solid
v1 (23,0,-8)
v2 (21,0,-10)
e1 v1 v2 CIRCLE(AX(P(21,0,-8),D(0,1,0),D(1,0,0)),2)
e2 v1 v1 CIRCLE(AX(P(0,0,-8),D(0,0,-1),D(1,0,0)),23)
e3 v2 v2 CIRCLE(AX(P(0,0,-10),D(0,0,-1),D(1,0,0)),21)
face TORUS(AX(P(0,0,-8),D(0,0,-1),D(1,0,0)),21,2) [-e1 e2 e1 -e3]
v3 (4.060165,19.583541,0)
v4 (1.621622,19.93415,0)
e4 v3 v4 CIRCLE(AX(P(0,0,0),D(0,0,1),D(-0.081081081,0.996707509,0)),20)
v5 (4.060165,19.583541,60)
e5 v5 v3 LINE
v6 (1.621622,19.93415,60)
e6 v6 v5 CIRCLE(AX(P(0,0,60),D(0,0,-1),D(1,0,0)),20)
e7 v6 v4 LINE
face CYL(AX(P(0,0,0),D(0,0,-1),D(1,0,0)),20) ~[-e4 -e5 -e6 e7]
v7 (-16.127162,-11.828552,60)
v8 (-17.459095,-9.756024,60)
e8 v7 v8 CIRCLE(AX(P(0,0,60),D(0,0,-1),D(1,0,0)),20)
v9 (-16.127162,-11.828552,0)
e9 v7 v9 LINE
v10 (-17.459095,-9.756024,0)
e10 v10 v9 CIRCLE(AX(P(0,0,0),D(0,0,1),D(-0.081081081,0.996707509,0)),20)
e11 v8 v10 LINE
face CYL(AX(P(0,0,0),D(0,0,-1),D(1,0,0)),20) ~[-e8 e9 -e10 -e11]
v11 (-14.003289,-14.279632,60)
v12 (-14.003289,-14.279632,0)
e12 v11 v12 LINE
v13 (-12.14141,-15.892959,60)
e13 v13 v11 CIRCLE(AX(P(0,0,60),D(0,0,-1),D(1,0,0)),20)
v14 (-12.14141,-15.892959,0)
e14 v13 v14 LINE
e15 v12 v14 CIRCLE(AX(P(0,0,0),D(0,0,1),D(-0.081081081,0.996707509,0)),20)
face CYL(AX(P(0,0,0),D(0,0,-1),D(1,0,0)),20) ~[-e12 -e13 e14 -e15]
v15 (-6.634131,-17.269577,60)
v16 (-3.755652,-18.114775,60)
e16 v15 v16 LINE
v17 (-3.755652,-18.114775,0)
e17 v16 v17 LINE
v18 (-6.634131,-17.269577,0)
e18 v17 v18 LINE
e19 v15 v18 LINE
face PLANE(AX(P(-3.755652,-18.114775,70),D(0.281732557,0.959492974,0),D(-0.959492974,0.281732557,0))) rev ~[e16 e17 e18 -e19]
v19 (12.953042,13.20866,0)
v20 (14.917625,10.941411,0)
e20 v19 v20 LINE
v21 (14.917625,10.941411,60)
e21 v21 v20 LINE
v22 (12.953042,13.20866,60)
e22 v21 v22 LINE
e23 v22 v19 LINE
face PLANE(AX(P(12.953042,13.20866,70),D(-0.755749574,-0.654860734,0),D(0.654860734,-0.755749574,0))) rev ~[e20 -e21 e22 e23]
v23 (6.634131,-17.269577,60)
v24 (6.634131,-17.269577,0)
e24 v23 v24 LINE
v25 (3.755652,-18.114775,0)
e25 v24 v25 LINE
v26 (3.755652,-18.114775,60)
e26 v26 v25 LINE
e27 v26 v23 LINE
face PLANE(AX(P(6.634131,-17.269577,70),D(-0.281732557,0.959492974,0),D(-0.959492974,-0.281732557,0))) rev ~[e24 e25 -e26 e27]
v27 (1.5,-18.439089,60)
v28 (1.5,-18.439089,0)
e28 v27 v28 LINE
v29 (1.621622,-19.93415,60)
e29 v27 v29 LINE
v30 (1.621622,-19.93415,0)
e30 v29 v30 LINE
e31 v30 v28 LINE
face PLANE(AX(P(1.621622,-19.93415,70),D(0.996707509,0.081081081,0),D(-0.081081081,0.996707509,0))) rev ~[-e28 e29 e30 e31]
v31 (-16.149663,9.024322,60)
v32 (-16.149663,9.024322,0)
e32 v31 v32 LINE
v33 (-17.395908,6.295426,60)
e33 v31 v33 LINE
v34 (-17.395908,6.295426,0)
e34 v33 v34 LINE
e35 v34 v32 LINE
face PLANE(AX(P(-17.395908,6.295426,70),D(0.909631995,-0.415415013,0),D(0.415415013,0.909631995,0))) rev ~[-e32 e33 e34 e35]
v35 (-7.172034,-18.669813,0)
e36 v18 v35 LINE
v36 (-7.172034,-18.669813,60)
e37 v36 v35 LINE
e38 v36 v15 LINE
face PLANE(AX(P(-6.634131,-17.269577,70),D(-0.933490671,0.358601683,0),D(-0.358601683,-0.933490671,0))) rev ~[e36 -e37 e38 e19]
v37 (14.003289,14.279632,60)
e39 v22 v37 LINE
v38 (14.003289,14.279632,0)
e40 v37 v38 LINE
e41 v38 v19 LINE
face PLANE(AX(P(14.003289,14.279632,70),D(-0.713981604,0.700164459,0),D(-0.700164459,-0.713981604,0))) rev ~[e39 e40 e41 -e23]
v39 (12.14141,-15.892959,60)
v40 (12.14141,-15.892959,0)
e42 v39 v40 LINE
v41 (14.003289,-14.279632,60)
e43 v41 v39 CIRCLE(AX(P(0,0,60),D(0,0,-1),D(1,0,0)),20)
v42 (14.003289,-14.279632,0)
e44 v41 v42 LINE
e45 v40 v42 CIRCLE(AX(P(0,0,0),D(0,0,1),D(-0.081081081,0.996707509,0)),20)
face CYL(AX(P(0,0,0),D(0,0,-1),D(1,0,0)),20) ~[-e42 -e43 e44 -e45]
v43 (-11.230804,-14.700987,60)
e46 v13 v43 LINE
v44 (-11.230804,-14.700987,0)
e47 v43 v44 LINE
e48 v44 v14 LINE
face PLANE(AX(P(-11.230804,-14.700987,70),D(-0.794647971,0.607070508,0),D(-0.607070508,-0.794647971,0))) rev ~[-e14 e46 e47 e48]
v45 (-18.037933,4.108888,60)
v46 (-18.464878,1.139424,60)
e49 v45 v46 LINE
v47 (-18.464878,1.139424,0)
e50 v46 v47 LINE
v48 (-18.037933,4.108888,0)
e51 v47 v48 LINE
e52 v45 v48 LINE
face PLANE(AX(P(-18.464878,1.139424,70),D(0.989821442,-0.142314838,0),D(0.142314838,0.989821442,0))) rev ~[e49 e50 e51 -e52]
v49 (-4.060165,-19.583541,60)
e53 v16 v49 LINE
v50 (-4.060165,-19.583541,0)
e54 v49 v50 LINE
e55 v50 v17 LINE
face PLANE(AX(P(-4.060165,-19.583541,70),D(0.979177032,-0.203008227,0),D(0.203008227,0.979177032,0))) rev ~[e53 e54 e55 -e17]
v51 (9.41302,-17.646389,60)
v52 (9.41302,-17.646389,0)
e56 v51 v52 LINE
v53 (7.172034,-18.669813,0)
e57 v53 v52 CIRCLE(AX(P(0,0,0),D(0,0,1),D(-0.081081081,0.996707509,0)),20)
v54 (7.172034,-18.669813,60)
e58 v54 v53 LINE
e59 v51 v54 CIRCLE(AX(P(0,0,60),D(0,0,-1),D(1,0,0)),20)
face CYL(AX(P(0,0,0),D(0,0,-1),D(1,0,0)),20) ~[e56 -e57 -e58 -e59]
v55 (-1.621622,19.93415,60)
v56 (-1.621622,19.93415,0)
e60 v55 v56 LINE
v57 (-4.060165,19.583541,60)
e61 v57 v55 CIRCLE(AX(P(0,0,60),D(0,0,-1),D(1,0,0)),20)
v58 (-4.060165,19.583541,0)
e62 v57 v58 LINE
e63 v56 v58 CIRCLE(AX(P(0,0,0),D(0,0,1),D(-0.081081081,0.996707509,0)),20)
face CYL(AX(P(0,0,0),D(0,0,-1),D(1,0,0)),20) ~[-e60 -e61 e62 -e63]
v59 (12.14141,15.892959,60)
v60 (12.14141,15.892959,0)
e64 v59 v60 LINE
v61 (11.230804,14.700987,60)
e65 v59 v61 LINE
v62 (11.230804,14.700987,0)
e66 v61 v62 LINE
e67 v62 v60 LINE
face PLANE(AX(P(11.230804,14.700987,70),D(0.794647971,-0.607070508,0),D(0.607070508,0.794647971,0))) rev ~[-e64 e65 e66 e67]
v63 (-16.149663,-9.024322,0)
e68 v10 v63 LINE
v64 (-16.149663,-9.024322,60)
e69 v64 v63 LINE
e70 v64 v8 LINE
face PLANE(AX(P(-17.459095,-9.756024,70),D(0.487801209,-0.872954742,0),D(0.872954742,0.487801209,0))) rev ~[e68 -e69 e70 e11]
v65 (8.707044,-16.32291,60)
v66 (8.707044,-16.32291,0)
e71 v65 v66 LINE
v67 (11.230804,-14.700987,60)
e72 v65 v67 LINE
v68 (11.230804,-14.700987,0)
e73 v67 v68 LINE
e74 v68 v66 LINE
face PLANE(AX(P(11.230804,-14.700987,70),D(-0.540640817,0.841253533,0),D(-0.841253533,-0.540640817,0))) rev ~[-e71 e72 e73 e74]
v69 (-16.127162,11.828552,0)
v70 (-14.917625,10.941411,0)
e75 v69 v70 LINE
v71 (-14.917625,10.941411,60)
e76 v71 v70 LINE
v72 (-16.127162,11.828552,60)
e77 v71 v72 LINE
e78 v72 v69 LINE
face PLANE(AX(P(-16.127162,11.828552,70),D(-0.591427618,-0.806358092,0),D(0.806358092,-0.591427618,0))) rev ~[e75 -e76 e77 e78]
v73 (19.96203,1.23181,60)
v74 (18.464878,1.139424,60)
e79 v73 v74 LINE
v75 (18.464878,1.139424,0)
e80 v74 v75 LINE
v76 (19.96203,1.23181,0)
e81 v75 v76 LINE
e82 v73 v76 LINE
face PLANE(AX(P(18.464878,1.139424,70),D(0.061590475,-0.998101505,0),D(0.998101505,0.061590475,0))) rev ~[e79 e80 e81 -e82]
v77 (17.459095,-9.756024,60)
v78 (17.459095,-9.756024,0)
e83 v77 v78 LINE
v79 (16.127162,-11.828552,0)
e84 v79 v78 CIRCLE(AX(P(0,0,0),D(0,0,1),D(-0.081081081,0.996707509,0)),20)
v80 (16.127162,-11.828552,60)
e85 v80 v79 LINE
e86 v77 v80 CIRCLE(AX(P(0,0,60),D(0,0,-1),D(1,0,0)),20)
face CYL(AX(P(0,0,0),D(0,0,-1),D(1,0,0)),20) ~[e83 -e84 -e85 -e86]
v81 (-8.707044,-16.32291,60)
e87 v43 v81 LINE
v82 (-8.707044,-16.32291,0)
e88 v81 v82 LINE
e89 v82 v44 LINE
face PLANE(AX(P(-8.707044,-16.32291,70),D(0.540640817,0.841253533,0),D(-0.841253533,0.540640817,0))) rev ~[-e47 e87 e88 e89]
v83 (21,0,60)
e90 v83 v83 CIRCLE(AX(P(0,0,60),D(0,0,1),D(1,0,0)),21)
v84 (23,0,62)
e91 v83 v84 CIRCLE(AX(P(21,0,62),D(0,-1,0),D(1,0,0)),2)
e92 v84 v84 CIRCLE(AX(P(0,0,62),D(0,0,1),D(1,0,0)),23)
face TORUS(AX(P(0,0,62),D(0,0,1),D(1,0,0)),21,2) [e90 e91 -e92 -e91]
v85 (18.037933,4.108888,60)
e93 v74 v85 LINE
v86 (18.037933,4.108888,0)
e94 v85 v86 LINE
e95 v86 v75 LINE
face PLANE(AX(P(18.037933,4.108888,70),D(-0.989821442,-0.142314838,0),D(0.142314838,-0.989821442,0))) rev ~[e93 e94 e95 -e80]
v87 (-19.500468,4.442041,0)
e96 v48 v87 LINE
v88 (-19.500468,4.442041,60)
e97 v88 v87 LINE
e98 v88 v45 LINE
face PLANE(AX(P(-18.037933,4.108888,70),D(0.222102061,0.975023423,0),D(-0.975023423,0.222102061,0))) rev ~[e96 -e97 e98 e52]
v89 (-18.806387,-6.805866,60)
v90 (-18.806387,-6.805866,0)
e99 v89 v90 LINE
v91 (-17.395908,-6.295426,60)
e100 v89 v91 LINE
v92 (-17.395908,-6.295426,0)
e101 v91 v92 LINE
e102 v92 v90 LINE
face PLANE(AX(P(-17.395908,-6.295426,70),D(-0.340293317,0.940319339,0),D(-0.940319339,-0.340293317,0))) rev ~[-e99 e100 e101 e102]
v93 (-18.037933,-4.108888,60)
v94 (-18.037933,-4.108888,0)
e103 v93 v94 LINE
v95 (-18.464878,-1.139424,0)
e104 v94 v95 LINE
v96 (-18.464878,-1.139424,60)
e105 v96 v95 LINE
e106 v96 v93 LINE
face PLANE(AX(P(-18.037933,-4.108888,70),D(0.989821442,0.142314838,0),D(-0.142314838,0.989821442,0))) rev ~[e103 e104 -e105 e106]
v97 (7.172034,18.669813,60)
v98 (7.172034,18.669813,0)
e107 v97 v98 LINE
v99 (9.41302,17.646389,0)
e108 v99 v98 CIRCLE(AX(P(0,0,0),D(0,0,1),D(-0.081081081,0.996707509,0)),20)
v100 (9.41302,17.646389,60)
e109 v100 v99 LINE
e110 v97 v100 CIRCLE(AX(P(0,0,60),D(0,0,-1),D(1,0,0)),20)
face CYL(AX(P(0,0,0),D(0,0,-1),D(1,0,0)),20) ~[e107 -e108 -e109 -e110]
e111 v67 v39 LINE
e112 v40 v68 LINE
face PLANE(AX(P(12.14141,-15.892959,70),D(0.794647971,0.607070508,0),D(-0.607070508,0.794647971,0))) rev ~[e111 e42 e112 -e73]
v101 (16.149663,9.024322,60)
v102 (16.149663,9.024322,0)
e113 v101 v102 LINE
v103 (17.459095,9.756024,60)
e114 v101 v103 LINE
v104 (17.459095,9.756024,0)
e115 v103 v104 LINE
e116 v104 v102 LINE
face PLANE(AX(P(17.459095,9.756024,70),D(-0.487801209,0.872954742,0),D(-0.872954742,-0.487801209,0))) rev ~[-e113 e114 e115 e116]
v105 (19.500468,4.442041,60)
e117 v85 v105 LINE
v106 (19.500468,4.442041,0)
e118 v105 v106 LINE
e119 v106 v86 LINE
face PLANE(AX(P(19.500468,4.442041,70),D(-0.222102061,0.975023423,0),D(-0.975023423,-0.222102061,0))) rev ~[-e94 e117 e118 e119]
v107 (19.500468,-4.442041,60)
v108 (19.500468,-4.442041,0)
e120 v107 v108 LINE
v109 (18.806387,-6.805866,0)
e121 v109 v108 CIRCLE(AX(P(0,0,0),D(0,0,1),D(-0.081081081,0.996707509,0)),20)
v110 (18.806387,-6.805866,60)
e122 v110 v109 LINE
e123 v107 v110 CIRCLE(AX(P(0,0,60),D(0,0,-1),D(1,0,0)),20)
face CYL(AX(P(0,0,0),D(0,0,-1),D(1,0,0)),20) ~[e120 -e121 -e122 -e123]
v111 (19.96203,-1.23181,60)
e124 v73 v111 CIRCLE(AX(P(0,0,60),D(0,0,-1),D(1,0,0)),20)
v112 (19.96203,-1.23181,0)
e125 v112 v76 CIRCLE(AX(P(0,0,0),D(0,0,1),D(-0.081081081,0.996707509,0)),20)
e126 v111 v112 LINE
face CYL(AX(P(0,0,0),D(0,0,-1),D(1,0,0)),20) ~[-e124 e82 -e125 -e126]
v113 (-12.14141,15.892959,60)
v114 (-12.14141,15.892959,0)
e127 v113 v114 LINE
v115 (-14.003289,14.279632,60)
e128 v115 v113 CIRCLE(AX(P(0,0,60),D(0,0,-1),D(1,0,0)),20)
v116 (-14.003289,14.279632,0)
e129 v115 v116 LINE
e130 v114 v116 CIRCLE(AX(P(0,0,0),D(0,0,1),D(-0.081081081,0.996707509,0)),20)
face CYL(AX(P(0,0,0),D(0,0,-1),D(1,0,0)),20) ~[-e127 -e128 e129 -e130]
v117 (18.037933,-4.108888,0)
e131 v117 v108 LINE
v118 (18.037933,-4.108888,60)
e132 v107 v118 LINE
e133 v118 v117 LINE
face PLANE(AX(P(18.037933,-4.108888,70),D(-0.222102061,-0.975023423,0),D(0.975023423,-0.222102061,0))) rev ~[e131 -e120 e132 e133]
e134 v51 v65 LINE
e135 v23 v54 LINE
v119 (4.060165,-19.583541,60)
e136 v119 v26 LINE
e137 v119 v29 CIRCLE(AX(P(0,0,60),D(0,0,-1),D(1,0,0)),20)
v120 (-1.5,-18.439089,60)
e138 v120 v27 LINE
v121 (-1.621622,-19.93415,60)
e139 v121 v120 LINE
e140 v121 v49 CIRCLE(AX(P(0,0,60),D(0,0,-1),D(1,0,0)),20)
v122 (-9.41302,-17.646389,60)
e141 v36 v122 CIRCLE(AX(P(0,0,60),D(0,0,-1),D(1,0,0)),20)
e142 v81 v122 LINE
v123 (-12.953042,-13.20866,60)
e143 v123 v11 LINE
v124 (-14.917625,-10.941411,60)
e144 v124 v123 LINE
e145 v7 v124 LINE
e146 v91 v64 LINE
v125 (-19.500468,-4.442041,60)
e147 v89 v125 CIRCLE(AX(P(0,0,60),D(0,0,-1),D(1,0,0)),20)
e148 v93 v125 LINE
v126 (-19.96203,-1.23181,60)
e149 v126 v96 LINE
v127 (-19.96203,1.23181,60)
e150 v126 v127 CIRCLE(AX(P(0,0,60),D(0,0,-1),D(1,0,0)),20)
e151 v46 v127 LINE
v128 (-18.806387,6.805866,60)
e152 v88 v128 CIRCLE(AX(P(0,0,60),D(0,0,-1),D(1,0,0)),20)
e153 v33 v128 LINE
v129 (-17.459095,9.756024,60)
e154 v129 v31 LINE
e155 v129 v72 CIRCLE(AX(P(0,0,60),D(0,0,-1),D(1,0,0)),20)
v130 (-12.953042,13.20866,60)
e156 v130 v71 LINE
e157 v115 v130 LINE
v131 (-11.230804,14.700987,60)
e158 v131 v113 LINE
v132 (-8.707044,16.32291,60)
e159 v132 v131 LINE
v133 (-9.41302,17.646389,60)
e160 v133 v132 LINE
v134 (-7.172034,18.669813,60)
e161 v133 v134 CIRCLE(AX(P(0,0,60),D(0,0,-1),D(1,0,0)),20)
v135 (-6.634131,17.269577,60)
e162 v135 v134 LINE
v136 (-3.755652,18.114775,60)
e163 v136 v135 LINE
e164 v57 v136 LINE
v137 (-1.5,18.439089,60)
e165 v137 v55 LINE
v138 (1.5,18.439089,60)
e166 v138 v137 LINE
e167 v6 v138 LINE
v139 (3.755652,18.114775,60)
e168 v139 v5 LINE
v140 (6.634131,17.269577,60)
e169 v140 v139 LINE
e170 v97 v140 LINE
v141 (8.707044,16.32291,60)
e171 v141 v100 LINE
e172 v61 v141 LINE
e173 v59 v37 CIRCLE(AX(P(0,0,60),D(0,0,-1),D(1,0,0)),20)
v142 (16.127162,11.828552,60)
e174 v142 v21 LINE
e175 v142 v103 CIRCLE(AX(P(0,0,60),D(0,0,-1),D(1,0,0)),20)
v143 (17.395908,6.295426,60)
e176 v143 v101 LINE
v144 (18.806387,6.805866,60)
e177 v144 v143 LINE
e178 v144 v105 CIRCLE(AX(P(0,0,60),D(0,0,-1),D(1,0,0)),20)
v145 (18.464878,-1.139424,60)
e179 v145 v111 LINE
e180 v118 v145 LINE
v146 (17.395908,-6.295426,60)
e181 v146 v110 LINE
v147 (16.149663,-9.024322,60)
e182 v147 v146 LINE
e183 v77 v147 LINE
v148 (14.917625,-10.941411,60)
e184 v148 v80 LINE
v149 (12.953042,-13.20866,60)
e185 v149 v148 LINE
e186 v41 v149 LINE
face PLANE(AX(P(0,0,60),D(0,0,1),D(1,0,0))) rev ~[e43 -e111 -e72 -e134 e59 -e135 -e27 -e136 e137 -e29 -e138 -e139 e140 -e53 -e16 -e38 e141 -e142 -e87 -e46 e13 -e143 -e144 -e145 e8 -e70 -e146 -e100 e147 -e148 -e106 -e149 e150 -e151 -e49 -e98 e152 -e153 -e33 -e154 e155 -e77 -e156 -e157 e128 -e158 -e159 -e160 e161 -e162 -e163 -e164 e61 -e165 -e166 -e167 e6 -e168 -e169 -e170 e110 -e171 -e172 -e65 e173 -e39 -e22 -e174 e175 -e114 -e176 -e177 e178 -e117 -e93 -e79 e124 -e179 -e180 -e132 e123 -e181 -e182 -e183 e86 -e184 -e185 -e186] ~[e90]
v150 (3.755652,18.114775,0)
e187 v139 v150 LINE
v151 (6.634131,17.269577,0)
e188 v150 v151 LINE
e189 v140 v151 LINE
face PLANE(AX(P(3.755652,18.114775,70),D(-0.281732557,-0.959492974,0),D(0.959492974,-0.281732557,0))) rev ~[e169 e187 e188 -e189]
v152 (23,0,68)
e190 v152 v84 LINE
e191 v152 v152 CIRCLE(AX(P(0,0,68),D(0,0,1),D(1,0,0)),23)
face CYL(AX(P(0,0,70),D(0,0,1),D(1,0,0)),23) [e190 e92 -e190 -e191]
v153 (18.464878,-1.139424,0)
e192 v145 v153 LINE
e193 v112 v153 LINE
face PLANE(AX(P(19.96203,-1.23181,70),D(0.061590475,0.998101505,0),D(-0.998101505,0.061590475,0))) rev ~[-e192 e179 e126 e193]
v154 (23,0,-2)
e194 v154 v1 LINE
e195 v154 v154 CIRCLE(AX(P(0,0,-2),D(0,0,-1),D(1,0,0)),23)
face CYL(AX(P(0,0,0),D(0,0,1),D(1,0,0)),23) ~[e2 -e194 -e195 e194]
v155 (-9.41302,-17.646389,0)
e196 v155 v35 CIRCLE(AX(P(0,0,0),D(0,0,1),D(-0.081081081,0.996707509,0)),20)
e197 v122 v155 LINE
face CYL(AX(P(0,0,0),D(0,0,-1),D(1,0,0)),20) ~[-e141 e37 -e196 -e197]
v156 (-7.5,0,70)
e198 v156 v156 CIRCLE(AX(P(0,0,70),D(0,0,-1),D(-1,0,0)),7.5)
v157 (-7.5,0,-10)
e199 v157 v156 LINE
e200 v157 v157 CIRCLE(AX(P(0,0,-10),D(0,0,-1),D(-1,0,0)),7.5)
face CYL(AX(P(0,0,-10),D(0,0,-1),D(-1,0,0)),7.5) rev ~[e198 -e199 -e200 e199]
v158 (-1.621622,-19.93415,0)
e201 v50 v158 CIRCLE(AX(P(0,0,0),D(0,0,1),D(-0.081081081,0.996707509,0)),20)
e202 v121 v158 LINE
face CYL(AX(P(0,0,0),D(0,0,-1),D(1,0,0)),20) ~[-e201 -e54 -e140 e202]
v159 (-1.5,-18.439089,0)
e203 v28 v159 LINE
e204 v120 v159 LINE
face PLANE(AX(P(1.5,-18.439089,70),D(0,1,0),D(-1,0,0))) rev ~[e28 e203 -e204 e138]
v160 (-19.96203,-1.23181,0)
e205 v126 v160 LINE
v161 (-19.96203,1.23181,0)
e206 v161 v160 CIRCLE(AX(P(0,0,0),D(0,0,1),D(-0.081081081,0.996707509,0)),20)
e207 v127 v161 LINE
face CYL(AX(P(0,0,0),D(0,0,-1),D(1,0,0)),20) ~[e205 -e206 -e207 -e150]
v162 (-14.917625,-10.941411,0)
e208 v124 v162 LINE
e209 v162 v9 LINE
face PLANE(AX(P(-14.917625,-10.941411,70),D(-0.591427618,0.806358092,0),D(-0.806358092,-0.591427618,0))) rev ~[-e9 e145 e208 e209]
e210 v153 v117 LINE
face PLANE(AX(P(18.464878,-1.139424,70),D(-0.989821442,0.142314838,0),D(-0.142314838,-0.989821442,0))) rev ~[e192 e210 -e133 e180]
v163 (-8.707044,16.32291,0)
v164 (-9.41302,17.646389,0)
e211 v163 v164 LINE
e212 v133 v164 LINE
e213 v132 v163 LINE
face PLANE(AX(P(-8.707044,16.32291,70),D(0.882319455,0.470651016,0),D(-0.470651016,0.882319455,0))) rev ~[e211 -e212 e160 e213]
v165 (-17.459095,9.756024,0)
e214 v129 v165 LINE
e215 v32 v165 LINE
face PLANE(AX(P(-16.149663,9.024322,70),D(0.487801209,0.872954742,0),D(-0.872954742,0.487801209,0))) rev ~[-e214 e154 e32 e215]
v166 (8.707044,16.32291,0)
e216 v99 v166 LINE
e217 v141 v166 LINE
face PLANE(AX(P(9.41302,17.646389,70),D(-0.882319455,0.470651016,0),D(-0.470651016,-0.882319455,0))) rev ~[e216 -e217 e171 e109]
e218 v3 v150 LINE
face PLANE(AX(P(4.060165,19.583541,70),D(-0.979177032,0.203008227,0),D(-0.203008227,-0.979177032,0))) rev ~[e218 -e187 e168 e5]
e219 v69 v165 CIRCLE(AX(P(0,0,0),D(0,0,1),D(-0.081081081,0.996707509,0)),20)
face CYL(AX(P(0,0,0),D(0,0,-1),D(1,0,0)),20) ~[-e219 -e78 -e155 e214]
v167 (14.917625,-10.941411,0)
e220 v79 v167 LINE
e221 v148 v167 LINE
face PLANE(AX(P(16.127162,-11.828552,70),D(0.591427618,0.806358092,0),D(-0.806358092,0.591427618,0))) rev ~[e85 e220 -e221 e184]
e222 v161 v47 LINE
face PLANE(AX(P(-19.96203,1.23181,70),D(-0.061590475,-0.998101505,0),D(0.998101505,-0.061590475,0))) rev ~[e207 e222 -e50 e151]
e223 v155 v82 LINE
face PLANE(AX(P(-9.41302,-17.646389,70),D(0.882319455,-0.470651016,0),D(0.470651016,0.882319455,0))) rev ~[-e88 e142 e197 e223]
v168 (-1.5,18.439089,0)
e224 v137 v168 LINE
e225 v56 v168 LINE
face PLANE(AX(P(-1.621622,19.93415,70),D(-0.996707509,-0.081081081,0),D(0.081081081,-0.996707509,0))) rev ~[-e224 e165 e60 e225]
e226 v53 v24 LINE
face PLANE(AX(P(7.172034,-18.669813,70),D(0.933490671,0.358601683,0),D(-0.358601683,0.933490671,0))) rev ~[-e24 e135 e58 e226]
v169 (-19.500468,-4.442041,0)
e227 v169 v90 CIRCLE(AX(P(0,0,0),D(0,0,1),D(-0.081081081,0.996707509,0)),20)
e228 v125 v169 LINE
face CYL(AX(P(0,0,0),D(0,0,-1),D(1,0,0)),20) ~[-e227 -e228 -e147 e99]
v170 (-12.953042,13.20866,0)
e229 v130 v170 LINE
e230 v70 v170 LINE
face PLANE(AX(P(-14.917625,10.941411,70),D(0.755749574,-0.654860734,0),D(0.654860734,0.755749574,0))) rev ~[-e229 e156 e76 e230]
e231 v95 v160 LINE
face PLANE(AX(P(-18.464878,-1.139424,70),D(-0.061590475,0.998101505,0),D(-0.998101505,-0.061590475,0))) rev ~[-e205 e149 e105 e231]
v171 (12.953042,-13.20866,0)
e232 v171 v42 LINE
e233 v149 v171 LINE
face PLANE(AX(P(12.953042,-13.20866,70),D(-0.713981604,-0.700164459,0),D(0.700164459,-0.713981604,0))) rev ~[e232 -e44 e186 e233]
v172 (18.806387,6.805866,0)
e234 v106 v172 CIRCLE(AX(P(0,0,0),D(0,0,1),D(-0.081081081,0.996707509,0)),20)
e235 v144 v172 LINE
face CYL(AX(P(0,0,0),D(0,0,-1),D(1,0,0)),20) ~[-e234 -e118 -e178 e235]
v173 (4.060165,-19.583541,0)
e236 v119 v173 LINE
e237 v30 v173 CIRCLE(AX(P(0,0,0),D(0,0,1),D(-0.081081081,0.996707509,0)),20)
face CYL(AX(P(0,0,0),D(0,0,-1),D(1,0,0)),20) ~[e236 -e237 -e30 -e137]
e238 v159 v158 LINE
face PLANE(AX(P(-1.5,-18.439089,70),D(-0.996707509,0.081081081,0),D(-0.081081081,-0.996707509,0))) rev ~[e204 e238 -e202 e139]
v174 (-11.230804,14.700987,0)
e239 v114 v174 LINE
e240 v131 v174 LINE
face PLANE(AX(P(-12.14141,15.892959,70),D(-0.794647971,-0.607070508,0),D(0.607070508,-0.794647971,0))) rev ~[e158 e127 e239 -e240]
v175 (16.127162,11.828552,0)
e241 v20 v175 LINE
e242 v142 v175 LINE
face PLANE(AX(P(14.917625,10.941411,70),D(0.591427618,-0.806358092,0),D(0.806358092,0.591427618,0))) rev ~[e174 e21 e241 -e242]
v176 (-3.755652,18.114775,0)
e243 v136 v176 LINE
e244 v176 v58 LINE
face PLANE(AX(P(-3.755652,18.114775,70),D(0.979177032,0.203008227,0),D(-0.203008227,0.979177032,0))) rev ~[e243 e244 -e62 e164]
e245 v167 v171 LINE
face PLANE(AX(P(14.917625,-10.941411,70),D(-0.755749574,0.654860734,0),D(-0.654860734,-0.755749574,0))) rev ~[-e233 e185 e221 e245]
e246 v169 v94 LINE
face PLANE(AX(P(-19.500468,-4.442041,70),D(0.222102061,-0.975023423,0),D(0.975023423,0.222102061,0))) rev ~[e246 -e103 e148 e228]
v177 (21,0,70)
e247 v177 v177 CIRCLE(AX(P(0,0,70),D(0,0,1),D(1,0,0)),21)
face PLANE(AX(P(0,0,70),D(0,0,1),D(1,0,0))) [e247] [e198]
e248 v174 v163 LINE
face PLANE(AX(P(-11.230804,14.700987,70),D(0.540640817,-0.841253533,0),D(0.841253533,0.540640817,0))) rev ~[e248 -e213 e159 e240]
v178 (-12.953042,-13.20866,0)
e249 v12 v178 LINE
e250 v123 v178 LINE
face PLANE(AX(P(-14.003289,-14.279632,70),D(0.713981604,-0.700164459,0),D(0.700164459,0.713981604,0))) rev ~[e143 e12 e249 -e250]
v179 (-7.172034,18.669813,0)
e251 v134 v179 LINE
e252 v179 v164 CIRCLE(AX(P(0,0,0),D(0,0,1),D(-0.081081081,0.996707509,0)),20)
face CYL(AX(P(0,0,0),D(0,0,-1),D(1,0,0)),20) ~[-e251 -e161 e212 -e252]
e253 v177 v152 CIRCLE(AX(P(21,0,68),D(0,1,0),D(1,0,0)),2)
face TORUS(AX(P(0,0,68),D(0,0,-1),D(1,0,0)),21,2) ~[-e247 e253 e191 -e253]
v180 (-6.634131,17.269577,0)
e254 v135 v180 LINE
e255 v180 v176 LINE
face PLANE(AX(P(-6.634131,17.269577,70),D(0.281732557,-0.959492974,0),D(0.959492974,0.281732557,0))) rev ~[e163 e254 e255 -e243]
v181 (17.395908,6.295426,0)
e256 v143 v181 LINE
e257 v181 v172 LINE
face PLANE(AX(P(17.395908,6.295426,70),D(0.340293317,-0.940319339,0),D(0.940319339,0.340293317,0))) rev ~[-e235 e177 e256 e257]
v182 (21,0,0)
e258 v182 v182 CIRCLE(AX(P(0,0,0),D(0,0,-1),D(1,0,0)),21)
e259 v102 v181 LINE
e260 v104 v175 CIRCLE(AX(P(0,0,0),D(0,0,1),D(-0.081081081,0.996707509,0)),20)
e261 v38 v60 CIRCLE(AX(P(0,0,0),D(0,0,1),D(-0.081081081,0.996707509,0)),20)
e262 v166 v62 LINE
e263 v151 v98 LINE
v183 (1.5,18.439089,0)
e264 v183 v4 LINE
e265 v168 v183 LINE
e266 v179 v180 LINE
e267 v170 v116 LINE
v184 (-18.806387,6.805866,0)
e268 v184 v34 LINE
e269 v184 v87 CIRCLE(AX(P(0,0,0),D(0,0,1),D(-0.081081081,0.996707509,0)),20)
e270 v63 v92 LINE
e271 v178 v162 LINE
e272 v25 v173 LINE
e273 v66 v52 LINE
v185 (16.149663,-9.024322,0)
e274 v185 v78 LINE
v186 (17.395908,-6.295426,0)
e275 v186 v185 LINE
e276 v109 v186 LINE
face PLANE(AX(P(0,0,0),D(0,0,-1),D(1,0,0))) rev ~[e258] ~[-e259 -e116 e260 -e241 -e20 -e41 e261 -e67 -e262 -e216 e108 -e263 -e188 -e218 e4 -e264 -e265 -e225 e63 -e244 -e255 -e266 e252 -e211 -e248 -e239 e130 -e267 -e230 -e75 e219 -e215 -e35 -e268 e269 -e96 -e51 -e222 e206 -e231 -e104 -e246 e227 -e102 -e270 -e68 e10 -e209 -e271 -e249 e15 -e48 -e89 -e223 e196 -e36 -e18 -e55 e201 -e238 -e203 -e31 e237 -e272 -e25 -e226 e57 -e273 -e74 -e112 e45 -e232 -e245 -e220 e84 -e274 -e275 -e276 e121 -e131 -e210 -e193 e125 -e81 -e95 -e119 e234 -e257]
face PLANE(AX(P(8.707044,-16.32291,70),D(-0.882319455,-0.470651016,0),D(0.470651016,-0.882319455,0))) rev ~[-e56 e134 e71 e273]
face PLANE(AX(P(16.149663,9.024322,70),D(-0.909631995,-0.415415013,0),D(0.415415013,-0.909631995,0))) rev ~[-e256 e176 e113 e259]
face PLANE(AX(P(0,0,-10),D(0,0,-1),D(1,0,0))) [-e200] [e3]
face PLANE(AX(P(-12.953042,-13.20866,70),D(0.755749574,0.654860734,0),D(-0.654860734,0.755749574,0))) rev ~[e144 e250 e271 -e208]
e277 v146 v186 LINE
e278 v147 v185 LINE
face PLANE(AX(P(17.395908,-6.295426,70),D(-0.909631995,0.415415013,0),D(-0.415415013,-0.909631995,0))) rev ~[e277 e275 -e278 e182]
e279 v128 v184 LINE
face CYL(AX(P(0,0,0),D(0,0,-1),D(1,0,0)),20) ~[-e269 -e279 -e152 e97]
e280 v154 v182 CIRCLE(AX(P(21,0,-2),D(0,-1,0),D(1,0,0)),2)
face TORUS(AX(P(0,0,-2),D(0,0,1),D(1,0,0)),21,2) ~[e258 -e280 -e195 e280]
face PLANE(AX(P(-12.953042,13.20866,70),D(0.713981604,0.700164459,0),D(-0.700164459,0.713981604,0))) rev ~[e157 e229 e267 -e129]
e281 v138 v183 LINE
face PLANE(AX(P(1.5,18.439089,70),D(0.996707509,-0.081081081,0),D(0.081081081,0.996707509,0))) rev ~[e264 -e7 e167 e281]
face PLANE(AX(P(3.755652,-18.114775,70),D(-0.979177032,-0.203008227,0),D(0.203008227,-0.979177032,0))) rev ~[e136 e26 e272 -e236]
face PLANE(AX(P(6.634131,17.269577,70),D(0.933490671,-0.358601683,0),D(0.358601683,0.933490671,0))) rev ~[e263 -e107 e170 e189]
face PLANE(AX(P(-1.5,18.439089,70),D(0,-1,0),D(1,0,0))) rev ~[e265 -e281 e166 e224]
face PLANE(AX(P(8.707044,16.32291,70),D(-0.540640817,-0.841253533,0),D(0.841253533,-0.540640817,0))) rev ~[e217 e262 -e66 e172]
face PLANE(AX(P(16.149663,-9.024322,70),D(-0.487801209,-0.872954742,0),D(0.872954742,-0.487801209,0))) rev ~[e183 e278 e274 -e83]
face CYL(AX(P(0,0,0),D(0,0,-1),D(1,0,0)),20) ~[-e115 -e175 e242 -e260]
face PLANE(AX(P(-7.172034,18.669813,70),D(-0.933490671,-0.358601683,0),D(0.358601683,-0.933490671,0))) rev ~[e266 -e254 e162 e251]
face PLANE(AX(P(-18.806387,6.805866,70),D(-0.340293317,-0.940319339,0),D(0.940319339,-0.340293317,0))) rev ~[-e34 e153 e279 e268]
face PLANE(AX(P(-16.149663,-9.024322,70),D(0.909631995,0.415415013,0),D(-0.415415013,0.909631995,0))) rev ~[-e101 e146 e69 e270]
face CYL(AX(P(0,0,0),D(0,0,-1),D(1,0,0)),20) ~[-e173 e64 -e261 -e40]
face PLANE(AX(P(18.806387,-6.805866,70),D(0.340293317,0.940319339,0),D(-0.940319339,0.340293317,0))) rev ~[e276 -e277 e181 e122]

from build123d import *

# Parameters (mm, degrees)
SKETCH1_R           = 20
BOSS_EXTRUDE1_DEPTH = 70
CUT_EXTRUDE1_DEPTH  = 76.498344353
CIRPATTERN1_COUNT   = 22
SKETCH3_R           = 23
BOSS_EXTRUDE2_DEPTH = 10
SKETCH4_R           = 23
BOSS_EXTRUDE3_DEPTH = 10
SKETCH5_R           = 7.5
CUT_EXTRUDE2_DEPTH  = 87.35971283
FILLET1_R           = 2


with BuildPart() as part:
    # Sketch1 → Boss-Extrude1 (new body)
    with BuildSketch(Plane.XY):
        Circle(SKETCH1_R)
    extrude(amount=BOSS_EXTRUDE1_DEPTH)

    # Sketch2 → Cut-Extrude1 (cut, through all)
    with BuildSketch(Plane.XY.offset(70)):
        with BuildLine():
            Line((-1.5, 18.439088915), (1.5, 18.439088915))
            Line((1.5, 18.439088915), (1.621621622, 19.934150178))
            ThreePointArc((1.621621622, 19.934150178), (0, 20), (-1.621621622, 19.934150178))
            Line((-1.621621622, 19.934150178), (-1.5, 18.439088915))
        make_face()
    cut_extrude1 = extrude(amount=-CUT_EXTRUDE1_DEPTH, mode=Mode.SUBTRACT)

    # CirPattern1: Cut-Extrude1 ×22 about axis
    cirpattern1_axis = Axis((0, 0, 0), (0, 0, 1))
    for i in range(1, CIRPATTERN1_COUNT):
        add(cut_extrude1.rotate(cirpattern1_axis, i * 360 / CIRPATTERN1_COUNT), mode=Mode.SUBTRACT)

    # Sketch3 → Boss-Extrude2 (add)
    with BuildSketch(Plane.XY.offset(70)):
        Circle(SKETCH3_R)
    extrude(amount=-BOSS_EXTRUDE2_DEPTH)

    # Sketch4 → Boss-Extrude3 (add)
    with BuildSketch(Plane(origin=(0, 0, 0), x_dir=(-1, 0, 0), z_dir=(0, 0, -1))):
        with Locations(Location((0, 0, 0), (0, 0, 180))):
            Circle(SKETCH4_R)
    extrude(amount=BOSS_EXTRUDE3_DEPTH)

    # Sketch5 → Cut-Extrude2 (cut, through all)
    with BuildSketch(Plane(origin=(0, 0, -10), x_dir=(-1, 0, 0), z_dir=(0, 0, -1))):
        Circle(SKETCH5_R)
    extrude(amount=-CUT_EXTRUDE2_DEPTH, mode=Mode.SUBTRACT)

    # Fillet1
    fillet1_edges = [part.edges().sort_by_distance(p)[0] for p in [
        (-23, 0, 70),
        (-23, 0, 60),
        (-23, 0, 0),
        (-23, 0, -10),
    ]]
    fillet(fillet1_edges, radius=FILLET1_R)


solid = part.part
